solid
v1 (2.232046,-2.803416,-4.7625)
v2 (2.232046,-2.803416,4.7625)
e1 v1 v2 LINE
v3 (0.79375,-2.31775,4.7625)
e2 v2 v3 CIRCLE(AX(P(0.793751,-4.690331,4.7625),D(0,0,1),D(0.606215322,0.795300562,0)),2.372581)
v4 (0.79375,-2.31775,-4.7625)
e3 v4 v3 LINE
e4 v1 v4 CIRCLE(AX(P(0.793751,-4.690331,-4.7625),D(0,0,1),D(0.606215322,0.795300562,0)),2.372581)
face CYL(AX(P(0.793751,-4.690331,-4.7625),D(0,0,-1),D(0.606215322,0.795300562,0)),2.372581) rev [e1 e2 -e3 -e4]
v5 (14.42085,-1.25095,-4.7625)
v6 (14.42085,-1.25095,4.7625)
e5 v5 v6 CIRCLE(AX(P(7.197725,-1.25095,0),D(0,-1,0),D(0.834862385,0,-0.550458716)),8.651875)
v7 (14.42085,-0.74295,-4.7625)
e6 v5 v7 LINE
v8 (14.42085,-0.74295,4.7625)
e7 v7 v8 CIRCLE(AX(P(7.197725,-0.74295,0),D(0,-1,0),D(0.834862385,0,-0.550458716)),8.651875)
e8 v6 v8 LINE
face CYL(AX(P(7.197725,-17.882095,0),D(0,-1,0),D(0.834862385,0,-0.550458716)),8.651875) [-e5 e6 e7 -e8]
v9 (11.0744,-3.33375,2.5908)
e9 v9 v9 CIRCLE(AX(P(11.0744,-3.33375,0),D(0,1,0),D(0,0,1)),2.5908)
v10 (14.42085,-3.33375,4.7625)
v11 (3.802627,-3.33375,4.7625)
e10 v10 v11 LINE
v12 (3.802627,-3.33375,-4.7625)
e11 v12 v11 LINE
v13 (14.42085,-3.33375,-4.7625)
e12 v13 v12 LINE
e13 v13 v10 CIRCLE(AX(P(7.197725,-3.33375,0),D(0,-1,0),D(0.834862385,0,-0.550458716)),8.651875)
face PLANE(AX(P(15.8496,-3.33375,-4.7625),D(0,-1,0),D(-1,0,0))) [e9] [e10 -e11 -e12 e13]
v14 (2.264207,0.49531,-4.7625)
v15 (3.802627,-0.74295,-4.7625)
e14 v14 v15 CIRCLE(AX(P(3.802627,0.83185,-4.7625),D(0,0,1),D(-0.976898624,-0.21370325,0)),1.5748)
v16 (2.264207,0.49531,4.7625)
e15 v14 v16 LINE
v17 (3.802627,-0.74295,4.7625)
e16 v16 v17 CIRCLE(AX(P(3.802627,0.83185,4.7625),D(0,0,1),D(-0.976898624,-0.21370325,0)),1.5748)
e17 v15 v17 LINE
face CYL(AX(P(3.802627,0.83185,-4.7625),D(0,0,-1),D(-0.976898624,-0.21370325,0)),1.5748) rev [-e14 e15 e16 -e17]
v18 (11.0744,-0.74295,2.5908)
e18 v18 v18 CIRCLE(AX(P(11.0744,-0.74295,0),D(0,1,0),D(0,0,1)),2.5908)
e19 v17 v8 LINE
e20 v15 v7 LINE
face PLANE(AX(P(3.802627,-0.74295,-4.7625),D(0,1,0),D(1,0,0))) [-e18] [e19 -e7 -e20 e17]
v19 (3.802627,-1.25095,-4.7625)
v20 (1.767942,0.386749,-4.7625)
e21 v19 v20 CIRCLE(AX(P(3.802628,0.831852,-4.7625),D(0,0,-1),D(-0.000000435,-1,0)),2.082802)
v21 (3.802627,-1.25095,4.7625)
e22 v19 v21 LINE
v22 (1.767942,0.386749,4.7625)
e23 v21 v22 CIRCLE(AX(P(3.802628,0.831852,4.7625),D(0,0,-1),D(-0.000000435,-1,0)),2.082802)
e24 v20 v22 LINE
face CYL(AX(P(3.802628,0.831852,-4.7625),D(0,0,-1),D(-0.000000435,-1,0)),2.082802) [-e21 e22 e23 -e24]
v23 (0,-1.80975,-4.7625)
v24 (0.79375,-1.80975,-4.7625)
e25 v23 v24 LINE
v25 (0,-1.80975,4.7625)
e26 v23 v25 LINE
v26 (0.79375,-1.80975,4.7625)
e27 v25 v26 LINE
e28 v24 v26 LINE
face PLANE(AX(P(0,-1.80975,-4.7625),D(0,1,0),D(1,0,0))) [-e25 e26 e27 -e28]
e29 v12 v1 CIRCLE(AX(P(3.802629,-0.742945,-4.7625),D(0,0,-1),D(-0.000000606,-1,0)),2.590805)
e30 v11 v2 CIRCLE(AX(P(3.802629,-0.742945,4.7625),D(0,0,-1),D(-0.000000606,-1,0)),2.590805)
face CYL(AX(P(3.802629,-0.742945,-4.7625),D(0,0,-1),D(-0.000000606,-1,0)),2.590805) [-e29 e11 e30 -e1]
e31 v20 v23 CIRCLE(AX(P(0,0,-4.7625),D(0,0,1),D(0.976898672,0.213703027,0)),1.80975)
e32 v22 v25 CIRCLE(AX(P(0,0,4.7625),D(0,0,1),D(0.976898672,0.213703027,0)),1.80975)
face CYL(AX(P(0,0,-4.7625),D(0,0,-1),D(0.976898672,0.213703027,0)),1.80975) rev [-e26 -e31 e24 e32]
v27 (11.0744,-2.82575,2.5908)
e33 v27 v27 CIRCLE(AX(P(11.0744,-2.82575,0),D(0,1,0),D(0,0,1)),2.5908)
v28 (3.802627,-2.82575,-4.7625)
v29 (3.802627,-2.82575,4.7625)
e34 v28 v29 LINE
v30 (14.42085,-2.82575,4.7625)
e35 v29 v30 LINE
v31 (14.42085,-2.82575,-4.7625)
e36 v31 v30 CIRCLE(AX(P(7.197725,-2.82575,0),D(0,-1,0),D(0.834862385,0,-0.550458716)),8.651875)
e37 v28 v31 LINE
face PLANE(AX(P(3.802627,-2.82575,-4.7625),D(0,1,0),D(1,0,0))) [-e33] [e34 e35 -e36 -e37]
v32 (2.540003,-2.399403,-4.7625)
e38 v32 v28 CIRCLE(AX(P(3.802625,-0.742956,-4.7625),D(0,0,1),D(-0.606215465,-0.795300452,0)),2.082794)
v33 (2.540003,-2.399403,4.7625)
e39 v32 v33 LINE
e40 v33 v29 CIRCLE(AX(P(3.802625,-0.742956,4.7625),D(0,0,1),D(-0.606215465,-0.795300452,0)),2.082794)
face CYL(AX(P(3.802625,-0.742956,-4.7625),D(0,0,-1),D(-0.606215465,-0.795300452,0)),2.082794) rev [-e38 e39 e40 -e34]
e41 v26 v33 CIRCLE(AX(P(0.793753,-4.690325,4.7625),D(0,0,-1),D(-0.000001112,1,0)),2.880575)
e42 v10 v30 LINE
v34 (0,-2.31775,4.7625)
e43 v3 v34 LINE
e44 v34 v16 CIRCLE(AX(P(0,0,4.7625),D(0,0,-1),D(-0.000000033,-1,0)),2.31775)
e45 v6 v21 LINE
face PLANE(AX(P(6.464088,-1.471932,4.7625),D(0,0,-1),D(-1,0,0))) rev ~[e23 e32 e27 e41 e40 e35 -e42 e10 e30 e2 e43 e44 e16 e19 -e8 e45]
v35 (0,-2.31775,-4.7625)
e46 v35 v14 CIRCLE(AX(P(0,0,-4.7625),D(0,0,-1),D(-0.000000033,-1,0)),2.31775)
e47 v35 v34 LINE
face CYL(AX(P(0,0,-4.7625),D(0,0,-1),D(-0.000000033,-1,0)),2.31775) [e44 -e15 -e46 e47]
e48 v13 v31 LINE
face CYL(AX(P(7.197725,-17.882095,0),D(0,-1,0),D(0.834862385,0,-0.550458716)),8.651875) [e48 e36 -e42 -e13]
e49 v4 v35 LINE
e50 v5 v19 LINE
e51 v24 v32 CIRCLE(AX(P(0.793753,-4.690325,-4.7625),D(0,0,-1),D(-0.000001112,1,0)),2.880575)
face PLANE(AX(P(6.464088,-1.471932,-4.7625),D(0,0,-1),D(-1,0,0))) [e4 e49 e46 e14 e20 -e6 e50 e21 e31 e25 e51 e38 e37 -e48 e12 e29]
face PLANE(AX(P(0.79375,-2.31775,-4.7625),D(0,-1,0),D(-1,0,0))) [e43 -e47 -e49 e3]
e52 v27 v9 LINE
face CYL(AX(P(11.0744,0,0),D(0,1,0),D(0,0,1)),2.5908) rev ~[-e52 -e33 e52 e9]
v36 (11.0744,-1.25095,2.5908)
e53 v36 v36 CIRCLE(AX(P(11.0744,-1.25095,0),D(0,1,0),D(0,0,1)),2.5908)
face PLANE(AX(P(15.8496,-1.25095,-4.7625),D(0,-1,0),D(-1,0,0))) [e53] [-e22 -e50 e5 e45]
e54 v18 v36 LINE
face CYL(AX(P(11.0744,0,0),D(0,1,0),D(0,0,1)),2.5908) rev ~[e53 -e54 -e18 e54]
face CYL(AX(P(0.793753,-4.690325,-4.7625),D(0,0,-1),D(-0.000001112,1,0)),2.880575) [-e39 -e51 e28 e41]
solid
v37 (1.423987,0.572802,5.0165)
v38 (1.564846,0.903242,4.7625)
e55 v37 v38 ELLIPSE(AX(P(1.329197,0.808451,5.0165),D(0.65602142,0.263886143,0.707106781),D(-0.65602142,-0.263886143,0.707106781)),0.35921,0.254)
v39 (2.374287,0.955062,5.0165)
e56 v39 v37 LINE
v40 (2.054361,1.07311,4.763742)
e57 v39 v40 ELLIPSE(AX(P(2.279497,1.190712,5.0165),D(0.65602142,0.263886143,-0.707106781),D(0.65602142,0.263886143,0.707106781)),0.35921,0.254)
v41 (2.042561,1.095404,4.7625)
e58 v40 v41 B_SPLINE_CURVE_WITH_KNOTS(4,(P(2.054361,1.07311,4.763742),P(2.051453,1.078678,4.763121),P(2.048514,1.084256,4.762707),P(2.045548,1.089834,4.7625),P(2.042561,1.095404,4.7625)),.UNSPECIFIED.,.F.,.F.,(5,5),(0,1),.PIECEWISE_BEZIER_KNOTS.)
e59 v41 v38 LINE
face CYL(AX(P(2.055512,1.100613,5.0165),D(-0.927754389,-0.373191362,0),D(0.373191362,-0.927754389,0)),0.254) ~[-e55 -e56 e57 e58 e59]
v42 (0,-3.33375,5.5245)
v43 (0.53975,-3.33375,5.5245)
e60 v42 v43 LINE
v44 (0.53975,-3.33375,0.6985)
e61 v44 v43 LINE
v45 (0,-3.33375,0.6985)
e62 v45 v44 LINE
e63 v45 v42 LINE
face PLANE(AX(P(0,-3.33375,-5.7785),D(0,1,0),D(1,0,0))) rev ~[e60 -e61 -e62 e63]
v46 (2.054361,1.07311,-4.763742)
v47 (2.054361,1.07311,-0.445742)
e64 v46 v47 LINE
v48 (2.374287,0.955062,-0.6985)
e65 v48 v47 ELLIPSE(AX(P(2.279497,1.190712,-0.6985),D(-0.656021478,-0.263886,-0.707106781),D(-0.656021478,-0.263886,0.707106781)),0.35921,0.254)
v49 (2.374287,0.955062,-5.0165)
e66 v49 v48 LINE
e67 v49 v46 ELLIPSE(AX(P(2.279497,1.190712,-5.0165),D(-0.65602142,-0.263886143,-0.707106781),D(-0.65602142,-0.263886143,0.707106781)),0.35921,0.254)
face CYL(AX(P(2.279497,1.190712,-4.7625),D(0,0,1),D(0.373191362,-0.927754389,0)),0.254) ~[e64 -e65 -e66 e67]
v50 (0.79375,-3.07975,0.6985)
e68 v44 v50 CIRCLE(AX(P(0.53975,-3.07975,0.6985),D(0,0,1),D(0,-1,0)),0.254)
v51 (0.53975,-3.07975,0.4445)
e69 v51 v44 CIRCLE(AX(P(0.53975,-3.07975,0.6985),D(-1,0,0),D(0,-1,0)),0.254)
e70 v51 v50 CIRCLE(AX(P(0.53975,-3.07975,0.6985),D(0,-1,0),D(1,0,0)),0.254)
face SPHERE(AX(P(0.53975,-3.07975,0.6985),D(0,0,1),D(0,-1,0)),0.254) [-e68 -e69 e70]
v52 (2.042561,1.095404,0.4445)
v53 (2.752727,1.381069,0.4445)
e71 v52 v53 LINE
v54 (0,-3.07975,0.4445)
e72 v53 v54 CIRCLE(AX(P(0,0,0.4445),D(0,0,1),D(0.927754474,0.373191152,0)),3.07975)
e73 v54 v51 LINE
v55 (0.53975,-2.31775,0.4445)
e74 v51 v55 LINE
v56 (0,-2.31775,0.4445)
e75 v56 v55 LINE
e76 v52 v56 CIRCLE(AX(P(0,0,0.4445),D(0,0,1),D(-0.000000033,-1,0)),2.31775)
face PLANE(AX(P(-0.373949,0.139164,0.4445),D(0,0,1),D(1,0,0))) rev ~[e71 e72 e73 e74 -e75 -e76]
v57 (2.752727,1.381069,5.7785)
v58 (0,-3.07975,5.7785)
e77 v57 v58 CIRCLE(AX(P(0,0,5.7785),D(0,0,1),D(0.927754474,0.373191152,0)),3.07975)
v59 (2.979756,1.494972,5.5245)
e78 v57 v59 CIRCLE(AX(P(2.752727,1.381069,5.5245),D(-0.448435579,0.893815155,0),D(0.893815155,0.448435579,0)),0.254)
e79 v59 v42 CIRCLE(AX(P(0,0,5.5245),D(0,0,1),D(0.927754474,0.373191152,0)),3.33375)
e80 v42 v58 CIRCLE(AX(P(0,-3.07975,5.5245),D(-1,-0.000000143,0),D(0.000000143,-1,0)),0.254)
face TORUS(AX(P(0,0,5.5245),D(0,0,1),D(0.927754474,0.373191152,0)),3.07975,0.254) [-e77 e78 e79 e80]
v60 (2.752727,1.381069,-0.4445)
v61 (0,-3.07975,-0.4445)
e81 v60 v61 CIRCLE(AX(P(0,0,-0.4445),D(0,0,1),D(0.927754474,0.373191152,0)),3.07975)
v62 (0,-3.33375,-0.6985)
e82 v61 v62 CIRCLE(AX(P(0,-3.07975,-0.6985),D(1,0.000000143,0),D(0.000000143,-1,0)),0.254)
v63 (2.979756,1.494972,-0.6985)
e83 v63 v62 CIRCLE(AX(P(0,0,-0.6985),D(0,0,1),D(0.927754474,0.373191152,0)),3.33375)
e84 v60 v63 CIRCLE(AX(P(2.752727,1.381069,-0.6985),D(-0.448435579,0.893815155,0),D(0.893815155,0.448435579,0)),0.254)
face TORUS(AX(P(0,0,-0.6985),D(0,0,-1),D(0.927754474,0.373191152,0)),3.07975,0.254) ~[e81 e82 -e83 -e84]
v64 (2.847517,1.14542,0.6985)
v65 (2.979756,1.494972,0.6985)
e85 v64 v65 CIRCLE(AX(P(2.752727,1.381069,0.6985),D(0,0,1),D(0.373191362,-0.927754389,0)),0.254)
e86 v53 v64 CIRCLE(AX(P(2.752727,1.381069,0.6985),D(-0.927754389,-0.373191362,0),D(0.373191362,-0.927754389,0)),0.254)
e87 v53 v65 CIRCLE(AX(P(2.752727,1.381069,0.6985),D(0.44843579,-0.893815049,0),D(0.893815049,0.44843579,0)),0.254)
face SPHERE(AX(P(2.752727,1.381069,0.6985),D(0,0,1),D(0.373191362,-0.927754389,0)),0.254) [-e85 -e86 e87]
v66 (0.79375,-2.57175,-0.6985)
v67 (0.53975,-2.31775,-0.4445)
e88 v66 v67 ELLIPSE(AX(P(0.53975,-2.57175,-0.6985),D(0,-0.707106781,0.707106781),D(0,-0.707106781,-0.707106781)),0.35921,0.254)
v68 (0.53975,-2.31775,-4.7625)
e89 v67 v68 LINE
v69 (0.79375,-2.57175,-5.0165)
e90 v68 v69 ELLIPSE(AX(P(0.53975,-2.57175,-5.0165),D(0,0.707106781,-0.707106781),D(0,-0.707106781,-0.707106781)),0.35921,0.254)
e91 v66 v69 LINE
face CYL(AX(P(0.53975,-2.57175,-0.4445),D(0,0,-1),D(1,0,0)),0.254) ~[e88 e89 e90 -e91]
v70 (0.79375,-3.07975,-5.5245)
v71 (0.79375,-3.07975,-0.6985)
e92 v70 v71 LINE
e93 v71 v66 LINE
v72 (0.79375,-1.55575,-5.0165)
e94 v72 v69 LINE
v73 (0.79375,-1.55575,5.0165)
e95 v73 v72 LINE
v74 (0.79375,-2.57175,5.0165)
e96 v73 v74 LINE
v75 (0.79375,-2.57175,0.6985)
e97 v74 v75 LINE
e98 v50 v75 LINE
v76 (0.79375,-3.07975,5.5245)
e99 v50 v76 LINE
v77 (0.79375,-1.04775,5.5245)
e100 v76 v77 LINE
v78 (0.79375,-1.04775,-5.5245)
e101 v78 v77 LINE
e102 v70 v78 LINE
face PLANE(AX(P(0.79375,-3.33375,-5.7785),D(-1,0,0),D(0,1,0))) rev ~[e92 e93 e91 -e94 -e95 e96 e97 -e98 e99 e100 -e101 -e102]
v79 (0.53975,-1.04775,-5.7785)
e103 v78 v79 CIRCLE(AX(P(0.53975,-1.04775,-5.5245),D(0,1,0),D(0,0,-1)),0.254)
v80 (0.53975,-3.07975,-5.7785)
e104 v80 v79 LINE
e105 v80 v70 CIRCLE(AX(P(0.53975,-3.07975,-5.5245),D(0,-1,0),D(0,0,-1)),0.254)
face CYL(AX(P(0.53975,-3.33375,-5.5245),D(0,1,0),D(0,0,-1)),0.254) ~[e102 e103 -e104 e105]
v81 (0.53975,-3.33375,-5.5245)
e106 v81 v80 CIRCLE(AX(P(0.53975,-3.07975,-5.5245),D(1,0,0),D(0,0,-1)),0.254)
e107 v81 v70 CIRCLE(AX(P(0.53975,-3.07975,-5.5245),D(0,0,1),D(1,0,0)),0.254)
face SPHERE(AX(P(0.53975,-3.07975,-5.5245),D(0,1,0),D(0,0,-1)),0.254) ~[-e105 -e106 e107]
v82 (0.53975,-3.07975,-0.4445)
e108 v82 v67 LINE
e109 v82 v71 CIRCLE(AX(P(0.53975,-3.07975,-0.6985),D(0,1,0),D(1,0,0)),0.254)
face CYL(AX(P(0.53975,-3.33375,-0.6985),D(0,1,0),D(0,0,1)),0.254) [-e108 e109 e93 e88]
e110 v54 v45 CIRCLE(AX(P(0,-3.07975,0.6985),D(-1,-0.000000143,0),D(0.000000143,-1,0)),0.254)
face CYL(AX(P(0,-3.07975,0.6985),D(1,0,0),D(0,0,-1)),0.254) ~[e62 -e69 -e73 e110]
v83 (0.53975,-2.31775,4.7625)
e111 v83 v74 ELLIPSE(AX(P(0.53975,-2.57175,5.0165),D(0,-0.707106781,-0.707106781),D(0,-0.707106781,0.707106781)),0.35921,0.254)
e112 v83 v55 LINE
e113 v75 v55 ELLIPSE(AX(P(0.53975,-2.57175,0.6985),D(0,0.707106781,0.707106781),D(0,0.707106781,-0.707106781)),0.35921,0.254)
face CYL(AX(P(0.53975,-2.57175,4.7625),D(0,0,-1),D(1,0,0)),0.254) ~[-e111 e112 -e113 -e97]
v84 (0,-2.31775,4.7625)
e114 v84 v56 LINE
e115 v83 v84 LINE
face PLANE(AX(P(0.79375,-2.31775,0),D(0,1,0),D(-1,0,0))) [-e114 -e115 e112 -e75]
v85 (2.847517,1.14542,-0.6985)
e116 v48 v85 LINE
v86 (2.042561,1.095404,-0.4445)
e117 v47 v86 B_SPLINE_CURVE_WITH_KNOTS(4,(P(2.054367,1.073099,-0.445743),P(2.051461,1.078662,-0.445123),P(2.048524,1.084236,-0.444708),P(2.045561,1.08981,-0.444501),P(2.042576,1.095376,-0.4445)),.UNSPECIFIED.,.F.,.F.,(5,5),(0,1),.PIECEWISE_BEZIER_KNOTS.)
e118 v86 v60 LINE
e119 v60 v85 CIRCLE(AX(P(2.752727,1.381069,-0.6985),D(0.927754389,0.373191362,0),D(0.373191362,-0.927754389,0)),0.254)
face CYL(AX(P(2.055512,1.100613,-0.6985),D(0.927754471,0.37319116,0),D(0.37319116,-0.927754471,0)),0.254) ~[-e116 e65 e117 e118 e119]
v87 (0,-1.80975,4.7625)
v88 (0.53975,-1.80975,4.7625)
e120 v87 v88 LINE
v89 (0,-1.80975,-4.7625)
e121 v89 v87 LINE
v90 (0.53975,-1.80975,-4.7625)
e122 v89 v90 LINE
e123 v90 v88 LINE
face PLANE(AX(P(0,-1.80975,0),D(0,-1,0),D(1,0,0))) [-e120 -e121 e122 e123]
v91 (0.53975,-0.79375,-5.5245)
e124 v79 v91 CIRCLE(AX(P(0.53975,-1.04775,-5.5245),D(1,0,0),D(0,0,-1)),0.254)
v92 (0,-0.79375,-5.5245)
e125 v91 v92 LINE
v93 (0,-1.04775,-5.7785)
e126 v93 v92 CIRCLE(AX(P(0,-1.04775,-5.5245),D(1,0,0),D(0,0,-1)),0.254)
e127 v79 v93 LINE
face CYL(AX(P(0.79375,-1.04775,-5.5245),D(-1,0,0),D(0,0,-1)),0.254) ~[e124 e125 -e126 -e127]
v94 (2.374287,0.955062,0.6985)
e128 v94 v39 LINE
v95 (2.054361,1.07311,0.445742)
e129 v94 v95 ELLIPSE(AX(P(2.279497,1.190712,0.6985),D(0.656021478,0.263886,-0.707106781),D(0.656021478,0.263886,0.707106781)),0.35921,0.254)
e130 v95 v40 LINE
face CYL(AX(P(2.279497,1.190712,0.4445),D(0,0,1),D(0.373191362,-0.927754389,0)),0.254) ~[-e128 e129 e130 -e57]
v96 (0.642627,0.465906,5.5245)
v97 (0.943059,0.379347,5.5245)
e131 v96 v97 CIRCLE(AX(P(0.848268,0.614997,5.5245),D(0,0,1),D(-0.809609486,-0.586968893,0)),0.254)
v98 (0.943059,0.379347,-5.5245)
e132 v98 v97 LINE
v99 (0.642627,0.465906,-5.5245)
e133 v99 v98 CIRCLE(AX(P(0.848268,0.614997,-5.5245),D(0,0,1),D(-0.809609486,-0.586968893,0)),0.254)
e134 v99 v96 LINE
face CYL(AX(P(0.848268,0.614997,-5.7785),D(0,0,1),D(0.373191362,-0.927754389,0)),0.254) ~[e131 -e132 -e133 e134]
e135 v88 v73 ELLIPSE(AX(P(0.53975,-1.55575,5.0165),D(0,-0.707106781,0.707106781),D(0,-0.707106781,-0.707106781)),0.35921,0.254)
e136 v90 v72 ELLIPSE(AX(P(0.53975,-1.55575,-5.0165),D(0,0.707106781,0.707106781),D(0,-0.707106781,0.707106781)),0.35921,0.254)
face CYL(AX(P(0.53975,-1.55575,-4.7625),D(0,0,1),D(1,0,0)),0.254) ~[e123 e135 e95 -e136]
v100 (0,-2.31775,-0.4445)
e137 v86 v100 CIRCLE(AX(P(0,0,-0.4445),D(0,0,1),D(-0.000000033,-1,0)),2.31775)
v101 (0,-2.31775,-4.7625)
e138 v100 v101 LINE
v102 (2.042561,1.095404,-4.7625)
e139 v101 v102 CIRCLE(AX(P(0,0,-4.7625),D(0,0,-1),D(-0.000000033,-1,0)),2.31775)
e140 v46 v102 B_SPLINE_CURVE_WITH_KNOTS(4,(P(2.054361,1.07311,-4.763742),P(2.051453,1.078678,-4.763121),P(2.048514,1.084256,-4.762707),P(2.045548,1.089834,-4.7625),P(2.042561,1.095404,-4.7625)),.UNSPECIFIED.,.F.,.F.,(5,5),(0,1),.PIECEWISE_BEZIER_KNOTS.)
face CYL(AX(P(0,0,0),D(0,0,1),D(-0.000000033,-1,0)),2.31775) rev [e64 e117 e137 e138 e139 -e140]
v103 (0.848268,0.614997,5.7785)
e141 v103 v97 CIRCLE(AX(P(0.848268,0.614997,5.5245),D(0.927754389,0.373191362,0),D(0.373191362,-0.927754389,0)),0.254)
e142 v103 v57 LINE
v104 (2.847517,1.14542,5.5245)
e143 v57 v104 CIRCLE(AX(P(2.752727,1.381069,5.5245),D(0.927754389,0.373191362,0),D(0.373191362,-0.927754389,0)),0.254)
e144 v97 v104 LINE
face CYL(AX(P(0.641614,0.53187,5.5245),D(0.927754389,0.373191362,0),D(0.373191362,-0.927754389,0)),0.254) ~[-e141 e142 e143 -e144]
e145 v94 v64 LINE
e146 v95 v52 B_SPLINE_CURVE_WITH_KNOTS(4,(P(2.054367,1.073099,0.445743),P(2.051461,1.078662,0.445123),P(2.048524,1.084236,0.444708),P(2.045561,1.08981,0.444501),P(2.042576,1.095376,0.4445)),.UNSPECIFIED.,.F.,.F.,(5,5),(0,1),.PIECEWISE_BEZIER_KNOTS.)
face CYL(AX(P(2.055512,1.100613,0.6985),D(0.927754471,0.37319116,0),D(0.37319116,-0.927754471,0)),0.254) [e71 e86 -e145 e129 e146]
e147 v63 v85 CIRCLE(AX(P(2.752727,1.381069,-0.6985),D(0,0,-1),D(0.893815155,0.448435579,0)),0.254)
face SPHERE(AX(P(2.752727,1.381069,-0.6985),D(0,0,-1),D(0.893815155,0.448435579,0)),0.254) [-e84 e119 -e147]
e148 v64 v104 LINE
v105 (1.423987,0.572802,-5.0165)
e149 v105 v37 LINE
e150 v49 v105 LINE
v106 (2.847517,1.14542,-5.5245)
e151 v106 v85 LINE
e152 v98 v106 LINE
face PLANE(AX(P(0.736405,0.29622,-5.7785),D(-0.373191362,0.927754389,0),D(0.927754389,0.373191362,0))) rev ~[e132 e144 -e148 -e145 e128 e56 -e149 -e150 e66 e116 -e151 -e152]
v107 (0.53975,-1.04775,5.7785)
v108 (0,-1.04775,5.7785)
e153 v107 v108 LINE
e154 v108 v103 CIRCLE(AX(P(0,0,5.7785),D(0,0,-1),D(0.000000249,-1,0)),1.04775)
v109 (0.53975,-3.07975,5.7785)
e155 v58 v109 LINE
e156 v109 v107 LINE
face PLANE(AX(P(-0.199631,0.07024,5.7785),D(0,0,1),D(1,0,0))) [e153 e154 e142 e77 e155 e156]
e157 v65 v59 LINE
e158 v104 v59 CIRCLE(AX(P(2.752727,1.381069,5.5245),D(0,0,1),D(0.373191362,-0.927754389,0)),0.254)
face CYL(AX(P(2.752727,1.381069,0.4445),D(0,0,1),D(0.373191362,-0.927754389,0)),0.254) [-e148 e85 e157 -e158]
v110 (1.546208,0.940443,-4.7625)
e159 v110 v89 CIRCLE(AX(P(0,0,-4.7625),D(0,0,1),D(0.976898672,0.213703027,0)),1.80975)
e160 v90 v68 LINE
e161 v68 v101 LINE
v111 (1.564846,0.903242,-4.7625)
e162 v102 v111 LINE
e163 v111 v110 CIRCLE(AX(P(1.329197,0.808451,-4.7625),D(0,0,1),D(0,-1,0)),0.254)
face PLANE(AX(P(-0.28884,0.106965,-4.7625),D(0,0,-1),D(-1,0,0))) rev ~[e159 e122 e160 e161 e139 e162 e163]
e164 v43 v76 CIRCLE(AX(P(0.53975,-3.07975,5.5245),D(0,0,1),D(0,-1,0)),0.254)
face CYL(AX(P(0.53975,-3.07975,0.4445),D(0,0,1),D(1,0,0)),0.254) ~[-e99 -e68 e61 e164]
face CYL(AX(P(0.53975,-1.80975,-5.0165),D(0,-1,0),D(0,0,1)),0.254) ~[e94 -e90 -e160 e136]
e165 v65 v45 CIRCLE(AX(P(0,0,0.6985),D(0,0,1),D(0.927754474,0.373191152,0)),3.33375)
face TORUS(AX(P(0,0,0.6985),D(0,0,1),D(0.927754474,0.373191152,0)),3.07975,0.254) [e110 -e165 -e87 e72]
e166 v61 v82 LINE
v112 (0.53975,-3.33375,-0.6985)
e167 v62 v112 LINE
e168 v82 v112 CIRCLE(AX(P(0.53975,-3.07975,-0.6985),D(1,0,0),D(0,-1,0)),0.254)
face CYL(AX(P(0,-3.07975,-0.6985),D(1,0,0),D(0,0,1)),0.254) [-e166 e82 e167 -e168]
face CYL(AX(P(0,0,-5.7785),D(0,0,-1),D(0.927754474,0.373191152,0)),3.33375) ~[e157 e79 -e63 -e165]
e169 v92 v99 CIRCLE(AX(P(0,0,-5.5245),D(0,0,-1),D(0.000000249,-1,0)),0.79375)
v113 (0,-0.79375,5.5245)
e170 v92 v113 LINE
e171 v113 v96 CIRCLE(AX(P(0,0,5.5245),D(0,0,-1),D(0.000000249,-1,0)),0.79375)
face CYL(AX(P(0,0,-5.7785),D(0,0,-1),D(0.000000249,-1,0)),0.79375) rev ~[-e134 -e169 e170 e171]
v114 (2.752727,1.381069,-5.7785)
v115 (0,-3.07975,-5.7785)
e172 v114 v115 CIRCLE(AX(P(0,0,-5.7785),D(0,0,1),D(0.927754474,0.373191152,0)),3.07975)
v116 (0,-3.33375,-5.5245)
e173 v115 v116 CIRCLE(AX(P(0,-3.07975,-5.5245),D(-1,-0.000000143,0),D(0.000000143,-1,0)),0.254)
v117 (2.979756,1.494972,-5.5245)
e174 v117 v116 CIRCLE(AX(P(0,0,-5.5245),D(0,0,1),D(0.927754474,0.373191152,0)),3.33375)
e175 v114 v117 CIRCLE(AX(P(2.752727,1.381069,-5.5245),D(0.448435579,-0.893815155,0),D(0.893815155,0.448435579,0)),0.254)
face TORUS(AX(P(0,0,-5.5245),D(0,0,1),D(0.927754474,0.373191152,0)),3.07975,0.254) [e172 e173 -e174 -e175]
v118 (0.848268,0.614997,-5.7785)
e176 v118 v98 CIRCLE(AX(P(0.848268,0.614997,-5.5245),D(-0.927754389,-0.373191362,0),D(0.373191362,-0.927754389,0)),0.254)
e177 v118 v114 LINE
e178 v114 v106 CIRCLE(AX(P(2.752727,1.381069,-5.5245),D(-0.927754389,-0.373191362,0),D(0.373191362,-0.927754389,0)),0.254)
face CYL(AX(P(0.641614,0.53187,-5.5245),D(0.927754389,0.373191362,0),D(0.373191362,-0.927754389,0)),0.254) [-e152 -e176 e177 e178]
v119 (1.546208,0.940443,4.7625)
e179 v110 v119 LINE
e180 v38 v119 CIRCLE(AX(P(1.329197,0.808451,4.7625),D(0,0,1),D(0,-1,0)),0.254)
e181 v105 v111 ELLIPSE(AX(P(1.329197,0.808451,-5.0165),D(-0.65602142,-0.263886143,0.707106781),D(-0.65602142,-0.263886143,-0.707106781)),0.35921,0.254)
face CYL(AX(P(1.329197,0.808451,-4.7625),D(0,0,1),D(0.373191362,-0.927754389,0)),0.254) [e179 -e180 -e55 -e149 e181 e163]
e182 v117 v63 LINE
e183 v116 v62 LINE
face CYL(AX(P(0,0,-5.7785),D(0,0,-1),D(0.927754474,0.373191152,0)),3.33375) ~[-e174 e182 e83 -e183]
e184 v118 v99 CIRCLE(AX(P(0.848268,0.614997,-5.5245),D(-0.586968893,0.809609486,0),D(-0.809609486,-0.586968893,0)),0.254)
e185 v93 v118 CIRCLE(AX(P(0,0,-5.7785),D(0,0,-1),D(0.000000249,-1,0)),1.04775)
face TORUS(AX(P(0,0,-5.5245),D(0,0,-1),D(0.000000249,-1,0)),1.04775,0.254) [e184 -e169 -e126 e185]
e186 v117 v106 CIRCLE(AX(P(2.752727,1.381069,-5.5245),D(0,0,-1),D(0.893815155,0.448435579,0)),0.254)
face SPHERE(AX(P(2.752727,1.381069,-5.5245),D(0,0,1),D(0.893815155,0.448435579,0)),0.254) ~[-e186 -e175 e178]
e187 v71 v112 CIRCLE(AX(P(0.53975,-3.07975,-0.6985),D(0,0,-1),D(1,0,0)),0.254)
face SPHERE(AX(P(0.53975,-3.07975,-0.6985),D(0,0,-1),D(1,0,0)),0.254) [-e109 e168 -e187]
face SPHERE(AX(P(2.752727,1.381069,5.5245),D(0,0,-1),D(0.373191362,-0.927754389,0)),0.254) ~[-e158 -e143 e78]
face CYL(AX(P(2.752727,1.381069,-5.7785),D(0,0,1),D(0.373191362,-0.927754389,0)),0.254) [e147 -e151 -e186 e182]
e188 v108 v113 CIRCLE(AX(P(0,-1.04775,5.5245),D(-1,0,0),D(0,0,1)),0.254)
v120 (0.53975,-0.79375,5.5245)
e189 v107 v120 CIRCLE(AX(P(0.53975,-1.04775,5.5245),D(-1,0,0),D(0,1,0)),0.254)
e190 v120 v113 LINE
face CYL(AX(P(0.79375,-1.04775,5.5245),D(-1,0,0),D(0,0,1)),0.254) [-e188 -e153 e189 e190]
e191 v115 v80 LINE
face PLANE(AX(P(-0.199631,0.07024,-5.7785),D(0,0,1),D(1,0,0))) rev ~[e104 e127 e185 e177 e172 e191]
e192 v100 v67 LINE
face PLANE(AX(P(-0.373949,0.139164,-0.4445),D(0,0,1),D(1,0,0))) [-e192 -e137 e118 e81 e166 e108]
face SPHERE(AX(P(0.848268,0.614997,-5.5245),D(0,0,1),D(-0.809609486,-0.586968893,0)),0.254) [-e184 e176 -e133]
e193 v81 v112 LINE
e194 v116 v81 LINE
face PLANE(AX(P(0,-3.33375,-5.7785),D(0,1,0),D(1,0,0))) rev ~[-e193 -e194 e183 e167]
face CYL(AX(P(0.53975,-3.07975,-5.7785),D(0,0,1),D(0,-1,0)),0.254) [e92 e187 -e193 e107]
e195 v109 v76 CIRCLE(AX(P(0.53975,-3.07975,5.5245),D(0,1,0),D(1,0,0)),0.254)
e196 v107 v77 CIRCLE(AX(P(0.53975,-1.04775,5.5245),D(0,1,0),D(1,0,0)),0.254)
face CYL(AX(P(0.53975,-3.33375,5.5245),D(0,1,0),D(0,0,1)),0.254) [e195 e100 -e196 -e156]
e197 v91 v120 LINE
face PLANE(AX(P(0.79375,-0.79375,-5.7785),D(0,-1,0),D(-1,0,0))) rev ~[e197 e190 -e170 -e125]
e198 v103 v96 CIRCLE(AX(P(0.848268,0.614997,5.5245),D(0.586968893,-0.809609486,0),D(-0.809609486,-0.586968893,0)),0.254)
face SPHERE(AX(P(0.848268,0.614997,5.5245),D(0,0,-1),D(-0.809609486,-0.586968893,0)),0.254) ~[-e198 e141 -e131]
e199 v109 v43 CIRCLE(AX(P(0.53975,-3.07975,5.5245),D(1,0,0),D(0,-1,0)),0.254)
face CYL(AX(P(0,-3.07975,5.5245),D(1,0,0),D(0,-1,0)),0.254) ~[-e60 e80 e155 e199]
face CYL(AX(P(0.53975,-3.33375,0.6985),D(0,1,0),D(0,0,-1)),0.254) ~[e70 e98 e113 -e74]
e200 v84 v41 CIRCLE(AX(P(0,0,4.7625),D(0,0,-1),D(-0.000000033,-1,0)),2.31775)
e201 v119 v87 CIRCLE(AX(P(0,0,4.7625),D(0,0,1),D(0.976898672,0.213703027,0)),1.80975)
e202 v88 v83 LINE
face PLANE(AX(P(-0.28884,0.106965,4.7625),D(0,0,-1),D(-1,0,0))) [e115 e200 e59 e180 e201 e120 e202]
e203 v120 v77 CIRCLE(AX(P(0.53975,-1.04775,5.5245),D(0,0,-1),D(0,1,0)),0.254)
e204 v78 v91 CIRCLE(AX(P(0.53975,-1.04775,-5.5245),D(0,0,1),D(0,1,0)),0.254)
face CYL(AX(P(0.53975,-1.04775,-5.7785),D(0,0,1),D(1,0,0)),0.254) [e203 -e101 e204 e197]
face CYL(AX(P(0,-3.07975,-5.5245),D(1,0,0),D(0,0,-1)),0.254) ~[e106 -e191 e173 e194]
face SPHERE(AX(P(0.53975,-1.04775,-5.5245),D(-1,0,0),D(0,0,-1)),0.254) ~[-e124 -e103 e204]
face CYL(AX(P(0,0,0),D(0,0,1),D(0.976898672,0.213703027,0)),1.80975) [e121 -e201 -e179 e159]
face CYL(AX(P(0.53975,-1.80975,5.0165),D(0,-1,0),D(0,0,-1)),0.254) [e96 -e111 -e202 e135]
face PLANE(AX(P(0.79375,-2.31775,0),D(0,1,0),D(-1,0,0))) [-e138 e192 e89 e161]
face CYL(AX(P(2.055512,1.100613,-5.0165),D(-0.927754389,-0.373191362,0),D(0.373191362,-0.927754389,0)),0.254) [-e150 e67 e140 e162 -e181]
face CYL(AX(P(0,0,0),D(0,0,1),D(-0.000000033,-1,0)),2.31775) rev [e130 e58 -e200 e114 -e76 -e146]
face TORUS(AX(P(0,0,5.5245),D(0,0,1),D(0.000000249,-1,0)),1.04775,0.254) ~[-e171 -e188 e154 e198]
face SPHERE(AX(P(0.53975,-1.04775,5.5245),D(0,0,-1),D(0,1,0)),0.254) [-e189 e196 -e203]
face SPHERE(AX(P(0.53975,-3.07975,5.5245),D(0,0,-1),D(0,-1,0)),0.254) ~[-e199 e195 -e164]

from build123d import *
from build123d.topology import SkipClean

# Parameters (mm, degrees)
BOSS_EXTRUDE1_DEPTH      = 4.7625
BOSS_EXTRUDE1_DEPTH_BACK = 4.7625
SKETCH2_R                = 2.5908
CUT_EXTRUDE1_DEPTH       = 17.882095
CUT_EXTRUDE3_DEPTH       = 17.882095
CUT_EXTRUDE3_DEPTH_BACK  = 17.882095
BOSS_EXTRUDE2_DEPTH      = 5.7785
BOSS_EXTRUDE2_DEPTH_BACK = 5.7785
CUT_EXTRUDE5_DEPTH       = 4.7625
CUT_EXTRUDE4_DEPTH       = 0.4445
CUT_EXTRUDE4_DEPTH_BACK  = 0.4445
FILLET1_R                = 0.254


with BuildPart() as part:
    # Sketch11 → Boss-Extrude1 (new, two sides: drawn at the far end of the back side and taken through both)
    with BuildSketch(Plane.XY.offset(-BOSS_EXTRUDE1_DEPTH_BACK)):
        with BuildLine():
            Line((0, -1.80975), (0.79375, -1.80975))
            ThreePointArc((0.79375, -1.80975), (1.71531, -1.961141), (2.540003, -2.399403))
            ThreePointArc((2.540003, -2.399403), (3.136295, -2.716287), (3.802627, -2.82575))
            Line((3.802627, -2.82575), (15.8496, -2.82575))
            Line((15.8496, -2.82575), (15.8496, -3.33375))
            Line((15.8496, -3.33375), (3.802627, -3.33375))
            ThreePointArc((3.802627, -3.33375), (2.973775, -3.197588), (2.232046, -2.803416))
            ThreePointArc((2.232046, -2.803416), (1.55279, -2.442443), (0.79375, -2.31775))
            Line((0.79375, -2.31775), (0, -2.31775))
            ThreePointArc((0, -2.31775), (-1.805543, 1.453265), (2.264207, 0.49531))
            ThreePointArc((2.264207, 0.49531), (2.815203, -0.39493), (3.802627, -0.74295))
            Line((3.802627, -0.74295), (15.8496, -0.74295))
            Line((15.8496, -0.74295), (15.8496, -1.25095))
            Line((15.8496, -1.25095), (3.802627, -1.25095))
            ThreePointArc((3.802627, -1.25095), (2.496679, -0.790665), (1.767942, 0.386749))
            ThreePointArc((1.767942, 0.386749), (-1.409808, 1.134741), (0, -1.80975))
        make_face()
    extrude(amount=BOSS_EXTRUDE1_DEPTH + BOSS_EXTRUDE1_DEPTH_BACK)

    # Sketch2 → Cut-Extrude1 (cut, through all)
    with BuildSketch(Plane(origin=(0, 0, 0), x_dir=(1, 0, 0), z_dir=(0, 1, 0))):
        with Locations(Location((11.0744, 0, 0), (0, 0, 270))):
            Circle(SKETCH2_R)
    extrude(amount=-CUT_EXTRUDE1_DEPTH, mode=Mode.SUBTRACT)

    # Sketch4 → Cut-Extrude3 (cut, two sides: drawn at the far end of the back side and taken through both)
    with BuildSketch(Plane(origin=(0, 0, 0), x_dir=(1, 0, 0), z_dir=(0, 1, 0)).offset(-CUT_EXTRUDE3_DEPTH_BACK)):
        with BuildLine():
            Line((-12.286228, 45.268235), (14.42085, 4.7625))
            ThreePointArc((14.42085, 4.7625), (15.8496, 0), (14.42085, -4.7625))
            Line((14.42085, -4.7625), (-12.286228, -45.268235))
            Line((-12.286228, -45.268235), (84.749489, -45.268235))
            Line((84.749489, -45.268235), (84.749489, 45.268235))
            Line((84.749489, 45.268235), (-12.286228, 45.268235))
        make_face()
    extrude(amount=CUT_EXTRUDE3_DEPTH + CUT_EXTRUDE3_DEPTH_BACK, mode=Mode.SUBTRACT)


with BuildPart() as body_2:
    # Sketch5 → Boss-Extrude2 (new, two sides: drawn at the far end of the back side and taken through both)
    with BuildSketch(Plane.XY.offset(-BOSS_EXTRUDE2_DEPTH_BACK)):
        with BuildLine():
            Line((0.736405, 0.29622), (3.092901, 1.244126))
            ThreePointArc((3.092901, 1.244126), (-2.762381, 1.866318), (0, -3.33375))
            Line((0, -3.33375), (0.79375, -3.33375))
            Line((0.79375, -3.33375), (0.79375, -0.79375))
            Line((0.79375, -0.79375), (0, -0.79375))
            ThreePointArc((0, -0.79375), (-0.65771, 0.444361), (0.736405, 0.29622))
        make_face()
    extrude(amount=BOSS_EXTRUDE2_DEPTH + BOSS_EXTRUDE2_DEPTH_BACK)

    # Sketch9 → Cut-Extrude5 (cut, symmetric)
    with BuildSketch(Plane.XY):
        with BuildLine():
            Line((0.79375, -1.80975), (0.79375, -2.31775))
            Line((0.79375, -2.31775), (0, -2.31775))
            ThreePointArc((0, -2.31775), (-1.805543, 1.453265), (2.264207, 0.49531))
            Line((2.264207, 0.49531), (1.767942, 0.386749))
            ThreePointArc((1.767942, 0.386749), (-1.409808, 1.134741), (0, -1.80975))
            Line((0, -1.80975), (0.79375, -1.80975))
        make_face()
    extrude(amount=CUT_EXTRUDE5_DEPTH, both=True, mode=Mode.SUBTRACT)

    # Sketch7 → Cut-Extrude4 (cut, two sides: drawn at the far end of the back side and taken through both)
    with SkipClean():  # the faces are left unmerged after this step: merging them gives an invalid solid
        with BuildSketch(Plane.XY.offset(-CUT_EXTRUDE4_DEPTH_BACK)):
            with BuildLine():
                Line((0.79375, -1.80975), (0, -1.80975))
                ThreePointArc((0, -1.80975), (-1.499578, 1.013144), (1.679004, 0.675383))
                Line((1.679004, 0.675383), (3.092901, 1.244126))
                ThreePointArc((3.092901, 1.244126), (-2.762381, 1.866318), (0, -3.33375))
                Line((0, -3.33375), (0.79375, -3.33375))
                Line((0.79375, -3.33375), (0.79375, -1.80975))
            make_face()
        extrude(amount=CUT_EXTRUDE4_DEPTH + CUT_EXTRUDE4_DEPTH_BACK, mode=Mode.SUBTRACT)

    # Fillet1
    fillet1_edges = [body_2.edges().sort_by_distance(p)[0] for p in [
        (0.736405, 0.29622, 0),
        (3.092901, 1.244126, 3.1115),
        (-0.65771, 0.444361, -5.7785),
        (0.396875, -0.79375, -5.7785),
        (0.79375, -2.06375, -5.7785),
        (0.396875, -3.33375, -5.7785),
        (-2.762381, 1.866318, -5.7785),
        (1.914653, 0.770173, -5.7785),
        (0.79375, -3.33375, 3.1115),
        (0.79375, -0.79375, 0),
        (0.396875, -0.79375, 5.7785),
        (2.150303, 0.864964, 2.6035),
        (1.679004, 0.675383, 0),
        (-0.65771, 0.444361, 5.7785),
        (1.914653, 0.770173, 5.7785),
        (1.914653, 0.770173, 4.7625),
        (-2.762381, 1.866318, 5.7785),
        (0.79375, -2.06375, 4.7625),
        (0.396875, -3.33375, 5.7785),
        (0.79375, -2.06375, 5.7785),
        (0.79375, -2.06375, -4.7625),
        (0.79375, -1.80975, 0),
        (0.79375, -2.31775, -2.6035),
        (1.914653, 0.770173, -4.7625),
        (0.79375, -2.31775, 2.6035),
        (2.150303, 0.864964, -2.6035),
        (0.79375, -3.33375, -3.1115),
        (3.092901, 1.244126, -3.1115),
        (2.621602, 1.054545, 0.4445),
        (-2.762381, 1.866318, 0.4445),
        (0.396875, -3.33375, 0.4445),
        (0.79375, -2.82575, 0.4445),
        (0.79375, -2.82575, -0.4445),
        (0.396875, -3.33375, -0.4445),
        (-2.762381, 1.866318, -0.4445),
        (2.621602, 1.054545, -0.4445),
    ]]
    fillet(fillet1_edges, radius=FILLET1_R)


solid = Compound([part.part, body_2.part])
